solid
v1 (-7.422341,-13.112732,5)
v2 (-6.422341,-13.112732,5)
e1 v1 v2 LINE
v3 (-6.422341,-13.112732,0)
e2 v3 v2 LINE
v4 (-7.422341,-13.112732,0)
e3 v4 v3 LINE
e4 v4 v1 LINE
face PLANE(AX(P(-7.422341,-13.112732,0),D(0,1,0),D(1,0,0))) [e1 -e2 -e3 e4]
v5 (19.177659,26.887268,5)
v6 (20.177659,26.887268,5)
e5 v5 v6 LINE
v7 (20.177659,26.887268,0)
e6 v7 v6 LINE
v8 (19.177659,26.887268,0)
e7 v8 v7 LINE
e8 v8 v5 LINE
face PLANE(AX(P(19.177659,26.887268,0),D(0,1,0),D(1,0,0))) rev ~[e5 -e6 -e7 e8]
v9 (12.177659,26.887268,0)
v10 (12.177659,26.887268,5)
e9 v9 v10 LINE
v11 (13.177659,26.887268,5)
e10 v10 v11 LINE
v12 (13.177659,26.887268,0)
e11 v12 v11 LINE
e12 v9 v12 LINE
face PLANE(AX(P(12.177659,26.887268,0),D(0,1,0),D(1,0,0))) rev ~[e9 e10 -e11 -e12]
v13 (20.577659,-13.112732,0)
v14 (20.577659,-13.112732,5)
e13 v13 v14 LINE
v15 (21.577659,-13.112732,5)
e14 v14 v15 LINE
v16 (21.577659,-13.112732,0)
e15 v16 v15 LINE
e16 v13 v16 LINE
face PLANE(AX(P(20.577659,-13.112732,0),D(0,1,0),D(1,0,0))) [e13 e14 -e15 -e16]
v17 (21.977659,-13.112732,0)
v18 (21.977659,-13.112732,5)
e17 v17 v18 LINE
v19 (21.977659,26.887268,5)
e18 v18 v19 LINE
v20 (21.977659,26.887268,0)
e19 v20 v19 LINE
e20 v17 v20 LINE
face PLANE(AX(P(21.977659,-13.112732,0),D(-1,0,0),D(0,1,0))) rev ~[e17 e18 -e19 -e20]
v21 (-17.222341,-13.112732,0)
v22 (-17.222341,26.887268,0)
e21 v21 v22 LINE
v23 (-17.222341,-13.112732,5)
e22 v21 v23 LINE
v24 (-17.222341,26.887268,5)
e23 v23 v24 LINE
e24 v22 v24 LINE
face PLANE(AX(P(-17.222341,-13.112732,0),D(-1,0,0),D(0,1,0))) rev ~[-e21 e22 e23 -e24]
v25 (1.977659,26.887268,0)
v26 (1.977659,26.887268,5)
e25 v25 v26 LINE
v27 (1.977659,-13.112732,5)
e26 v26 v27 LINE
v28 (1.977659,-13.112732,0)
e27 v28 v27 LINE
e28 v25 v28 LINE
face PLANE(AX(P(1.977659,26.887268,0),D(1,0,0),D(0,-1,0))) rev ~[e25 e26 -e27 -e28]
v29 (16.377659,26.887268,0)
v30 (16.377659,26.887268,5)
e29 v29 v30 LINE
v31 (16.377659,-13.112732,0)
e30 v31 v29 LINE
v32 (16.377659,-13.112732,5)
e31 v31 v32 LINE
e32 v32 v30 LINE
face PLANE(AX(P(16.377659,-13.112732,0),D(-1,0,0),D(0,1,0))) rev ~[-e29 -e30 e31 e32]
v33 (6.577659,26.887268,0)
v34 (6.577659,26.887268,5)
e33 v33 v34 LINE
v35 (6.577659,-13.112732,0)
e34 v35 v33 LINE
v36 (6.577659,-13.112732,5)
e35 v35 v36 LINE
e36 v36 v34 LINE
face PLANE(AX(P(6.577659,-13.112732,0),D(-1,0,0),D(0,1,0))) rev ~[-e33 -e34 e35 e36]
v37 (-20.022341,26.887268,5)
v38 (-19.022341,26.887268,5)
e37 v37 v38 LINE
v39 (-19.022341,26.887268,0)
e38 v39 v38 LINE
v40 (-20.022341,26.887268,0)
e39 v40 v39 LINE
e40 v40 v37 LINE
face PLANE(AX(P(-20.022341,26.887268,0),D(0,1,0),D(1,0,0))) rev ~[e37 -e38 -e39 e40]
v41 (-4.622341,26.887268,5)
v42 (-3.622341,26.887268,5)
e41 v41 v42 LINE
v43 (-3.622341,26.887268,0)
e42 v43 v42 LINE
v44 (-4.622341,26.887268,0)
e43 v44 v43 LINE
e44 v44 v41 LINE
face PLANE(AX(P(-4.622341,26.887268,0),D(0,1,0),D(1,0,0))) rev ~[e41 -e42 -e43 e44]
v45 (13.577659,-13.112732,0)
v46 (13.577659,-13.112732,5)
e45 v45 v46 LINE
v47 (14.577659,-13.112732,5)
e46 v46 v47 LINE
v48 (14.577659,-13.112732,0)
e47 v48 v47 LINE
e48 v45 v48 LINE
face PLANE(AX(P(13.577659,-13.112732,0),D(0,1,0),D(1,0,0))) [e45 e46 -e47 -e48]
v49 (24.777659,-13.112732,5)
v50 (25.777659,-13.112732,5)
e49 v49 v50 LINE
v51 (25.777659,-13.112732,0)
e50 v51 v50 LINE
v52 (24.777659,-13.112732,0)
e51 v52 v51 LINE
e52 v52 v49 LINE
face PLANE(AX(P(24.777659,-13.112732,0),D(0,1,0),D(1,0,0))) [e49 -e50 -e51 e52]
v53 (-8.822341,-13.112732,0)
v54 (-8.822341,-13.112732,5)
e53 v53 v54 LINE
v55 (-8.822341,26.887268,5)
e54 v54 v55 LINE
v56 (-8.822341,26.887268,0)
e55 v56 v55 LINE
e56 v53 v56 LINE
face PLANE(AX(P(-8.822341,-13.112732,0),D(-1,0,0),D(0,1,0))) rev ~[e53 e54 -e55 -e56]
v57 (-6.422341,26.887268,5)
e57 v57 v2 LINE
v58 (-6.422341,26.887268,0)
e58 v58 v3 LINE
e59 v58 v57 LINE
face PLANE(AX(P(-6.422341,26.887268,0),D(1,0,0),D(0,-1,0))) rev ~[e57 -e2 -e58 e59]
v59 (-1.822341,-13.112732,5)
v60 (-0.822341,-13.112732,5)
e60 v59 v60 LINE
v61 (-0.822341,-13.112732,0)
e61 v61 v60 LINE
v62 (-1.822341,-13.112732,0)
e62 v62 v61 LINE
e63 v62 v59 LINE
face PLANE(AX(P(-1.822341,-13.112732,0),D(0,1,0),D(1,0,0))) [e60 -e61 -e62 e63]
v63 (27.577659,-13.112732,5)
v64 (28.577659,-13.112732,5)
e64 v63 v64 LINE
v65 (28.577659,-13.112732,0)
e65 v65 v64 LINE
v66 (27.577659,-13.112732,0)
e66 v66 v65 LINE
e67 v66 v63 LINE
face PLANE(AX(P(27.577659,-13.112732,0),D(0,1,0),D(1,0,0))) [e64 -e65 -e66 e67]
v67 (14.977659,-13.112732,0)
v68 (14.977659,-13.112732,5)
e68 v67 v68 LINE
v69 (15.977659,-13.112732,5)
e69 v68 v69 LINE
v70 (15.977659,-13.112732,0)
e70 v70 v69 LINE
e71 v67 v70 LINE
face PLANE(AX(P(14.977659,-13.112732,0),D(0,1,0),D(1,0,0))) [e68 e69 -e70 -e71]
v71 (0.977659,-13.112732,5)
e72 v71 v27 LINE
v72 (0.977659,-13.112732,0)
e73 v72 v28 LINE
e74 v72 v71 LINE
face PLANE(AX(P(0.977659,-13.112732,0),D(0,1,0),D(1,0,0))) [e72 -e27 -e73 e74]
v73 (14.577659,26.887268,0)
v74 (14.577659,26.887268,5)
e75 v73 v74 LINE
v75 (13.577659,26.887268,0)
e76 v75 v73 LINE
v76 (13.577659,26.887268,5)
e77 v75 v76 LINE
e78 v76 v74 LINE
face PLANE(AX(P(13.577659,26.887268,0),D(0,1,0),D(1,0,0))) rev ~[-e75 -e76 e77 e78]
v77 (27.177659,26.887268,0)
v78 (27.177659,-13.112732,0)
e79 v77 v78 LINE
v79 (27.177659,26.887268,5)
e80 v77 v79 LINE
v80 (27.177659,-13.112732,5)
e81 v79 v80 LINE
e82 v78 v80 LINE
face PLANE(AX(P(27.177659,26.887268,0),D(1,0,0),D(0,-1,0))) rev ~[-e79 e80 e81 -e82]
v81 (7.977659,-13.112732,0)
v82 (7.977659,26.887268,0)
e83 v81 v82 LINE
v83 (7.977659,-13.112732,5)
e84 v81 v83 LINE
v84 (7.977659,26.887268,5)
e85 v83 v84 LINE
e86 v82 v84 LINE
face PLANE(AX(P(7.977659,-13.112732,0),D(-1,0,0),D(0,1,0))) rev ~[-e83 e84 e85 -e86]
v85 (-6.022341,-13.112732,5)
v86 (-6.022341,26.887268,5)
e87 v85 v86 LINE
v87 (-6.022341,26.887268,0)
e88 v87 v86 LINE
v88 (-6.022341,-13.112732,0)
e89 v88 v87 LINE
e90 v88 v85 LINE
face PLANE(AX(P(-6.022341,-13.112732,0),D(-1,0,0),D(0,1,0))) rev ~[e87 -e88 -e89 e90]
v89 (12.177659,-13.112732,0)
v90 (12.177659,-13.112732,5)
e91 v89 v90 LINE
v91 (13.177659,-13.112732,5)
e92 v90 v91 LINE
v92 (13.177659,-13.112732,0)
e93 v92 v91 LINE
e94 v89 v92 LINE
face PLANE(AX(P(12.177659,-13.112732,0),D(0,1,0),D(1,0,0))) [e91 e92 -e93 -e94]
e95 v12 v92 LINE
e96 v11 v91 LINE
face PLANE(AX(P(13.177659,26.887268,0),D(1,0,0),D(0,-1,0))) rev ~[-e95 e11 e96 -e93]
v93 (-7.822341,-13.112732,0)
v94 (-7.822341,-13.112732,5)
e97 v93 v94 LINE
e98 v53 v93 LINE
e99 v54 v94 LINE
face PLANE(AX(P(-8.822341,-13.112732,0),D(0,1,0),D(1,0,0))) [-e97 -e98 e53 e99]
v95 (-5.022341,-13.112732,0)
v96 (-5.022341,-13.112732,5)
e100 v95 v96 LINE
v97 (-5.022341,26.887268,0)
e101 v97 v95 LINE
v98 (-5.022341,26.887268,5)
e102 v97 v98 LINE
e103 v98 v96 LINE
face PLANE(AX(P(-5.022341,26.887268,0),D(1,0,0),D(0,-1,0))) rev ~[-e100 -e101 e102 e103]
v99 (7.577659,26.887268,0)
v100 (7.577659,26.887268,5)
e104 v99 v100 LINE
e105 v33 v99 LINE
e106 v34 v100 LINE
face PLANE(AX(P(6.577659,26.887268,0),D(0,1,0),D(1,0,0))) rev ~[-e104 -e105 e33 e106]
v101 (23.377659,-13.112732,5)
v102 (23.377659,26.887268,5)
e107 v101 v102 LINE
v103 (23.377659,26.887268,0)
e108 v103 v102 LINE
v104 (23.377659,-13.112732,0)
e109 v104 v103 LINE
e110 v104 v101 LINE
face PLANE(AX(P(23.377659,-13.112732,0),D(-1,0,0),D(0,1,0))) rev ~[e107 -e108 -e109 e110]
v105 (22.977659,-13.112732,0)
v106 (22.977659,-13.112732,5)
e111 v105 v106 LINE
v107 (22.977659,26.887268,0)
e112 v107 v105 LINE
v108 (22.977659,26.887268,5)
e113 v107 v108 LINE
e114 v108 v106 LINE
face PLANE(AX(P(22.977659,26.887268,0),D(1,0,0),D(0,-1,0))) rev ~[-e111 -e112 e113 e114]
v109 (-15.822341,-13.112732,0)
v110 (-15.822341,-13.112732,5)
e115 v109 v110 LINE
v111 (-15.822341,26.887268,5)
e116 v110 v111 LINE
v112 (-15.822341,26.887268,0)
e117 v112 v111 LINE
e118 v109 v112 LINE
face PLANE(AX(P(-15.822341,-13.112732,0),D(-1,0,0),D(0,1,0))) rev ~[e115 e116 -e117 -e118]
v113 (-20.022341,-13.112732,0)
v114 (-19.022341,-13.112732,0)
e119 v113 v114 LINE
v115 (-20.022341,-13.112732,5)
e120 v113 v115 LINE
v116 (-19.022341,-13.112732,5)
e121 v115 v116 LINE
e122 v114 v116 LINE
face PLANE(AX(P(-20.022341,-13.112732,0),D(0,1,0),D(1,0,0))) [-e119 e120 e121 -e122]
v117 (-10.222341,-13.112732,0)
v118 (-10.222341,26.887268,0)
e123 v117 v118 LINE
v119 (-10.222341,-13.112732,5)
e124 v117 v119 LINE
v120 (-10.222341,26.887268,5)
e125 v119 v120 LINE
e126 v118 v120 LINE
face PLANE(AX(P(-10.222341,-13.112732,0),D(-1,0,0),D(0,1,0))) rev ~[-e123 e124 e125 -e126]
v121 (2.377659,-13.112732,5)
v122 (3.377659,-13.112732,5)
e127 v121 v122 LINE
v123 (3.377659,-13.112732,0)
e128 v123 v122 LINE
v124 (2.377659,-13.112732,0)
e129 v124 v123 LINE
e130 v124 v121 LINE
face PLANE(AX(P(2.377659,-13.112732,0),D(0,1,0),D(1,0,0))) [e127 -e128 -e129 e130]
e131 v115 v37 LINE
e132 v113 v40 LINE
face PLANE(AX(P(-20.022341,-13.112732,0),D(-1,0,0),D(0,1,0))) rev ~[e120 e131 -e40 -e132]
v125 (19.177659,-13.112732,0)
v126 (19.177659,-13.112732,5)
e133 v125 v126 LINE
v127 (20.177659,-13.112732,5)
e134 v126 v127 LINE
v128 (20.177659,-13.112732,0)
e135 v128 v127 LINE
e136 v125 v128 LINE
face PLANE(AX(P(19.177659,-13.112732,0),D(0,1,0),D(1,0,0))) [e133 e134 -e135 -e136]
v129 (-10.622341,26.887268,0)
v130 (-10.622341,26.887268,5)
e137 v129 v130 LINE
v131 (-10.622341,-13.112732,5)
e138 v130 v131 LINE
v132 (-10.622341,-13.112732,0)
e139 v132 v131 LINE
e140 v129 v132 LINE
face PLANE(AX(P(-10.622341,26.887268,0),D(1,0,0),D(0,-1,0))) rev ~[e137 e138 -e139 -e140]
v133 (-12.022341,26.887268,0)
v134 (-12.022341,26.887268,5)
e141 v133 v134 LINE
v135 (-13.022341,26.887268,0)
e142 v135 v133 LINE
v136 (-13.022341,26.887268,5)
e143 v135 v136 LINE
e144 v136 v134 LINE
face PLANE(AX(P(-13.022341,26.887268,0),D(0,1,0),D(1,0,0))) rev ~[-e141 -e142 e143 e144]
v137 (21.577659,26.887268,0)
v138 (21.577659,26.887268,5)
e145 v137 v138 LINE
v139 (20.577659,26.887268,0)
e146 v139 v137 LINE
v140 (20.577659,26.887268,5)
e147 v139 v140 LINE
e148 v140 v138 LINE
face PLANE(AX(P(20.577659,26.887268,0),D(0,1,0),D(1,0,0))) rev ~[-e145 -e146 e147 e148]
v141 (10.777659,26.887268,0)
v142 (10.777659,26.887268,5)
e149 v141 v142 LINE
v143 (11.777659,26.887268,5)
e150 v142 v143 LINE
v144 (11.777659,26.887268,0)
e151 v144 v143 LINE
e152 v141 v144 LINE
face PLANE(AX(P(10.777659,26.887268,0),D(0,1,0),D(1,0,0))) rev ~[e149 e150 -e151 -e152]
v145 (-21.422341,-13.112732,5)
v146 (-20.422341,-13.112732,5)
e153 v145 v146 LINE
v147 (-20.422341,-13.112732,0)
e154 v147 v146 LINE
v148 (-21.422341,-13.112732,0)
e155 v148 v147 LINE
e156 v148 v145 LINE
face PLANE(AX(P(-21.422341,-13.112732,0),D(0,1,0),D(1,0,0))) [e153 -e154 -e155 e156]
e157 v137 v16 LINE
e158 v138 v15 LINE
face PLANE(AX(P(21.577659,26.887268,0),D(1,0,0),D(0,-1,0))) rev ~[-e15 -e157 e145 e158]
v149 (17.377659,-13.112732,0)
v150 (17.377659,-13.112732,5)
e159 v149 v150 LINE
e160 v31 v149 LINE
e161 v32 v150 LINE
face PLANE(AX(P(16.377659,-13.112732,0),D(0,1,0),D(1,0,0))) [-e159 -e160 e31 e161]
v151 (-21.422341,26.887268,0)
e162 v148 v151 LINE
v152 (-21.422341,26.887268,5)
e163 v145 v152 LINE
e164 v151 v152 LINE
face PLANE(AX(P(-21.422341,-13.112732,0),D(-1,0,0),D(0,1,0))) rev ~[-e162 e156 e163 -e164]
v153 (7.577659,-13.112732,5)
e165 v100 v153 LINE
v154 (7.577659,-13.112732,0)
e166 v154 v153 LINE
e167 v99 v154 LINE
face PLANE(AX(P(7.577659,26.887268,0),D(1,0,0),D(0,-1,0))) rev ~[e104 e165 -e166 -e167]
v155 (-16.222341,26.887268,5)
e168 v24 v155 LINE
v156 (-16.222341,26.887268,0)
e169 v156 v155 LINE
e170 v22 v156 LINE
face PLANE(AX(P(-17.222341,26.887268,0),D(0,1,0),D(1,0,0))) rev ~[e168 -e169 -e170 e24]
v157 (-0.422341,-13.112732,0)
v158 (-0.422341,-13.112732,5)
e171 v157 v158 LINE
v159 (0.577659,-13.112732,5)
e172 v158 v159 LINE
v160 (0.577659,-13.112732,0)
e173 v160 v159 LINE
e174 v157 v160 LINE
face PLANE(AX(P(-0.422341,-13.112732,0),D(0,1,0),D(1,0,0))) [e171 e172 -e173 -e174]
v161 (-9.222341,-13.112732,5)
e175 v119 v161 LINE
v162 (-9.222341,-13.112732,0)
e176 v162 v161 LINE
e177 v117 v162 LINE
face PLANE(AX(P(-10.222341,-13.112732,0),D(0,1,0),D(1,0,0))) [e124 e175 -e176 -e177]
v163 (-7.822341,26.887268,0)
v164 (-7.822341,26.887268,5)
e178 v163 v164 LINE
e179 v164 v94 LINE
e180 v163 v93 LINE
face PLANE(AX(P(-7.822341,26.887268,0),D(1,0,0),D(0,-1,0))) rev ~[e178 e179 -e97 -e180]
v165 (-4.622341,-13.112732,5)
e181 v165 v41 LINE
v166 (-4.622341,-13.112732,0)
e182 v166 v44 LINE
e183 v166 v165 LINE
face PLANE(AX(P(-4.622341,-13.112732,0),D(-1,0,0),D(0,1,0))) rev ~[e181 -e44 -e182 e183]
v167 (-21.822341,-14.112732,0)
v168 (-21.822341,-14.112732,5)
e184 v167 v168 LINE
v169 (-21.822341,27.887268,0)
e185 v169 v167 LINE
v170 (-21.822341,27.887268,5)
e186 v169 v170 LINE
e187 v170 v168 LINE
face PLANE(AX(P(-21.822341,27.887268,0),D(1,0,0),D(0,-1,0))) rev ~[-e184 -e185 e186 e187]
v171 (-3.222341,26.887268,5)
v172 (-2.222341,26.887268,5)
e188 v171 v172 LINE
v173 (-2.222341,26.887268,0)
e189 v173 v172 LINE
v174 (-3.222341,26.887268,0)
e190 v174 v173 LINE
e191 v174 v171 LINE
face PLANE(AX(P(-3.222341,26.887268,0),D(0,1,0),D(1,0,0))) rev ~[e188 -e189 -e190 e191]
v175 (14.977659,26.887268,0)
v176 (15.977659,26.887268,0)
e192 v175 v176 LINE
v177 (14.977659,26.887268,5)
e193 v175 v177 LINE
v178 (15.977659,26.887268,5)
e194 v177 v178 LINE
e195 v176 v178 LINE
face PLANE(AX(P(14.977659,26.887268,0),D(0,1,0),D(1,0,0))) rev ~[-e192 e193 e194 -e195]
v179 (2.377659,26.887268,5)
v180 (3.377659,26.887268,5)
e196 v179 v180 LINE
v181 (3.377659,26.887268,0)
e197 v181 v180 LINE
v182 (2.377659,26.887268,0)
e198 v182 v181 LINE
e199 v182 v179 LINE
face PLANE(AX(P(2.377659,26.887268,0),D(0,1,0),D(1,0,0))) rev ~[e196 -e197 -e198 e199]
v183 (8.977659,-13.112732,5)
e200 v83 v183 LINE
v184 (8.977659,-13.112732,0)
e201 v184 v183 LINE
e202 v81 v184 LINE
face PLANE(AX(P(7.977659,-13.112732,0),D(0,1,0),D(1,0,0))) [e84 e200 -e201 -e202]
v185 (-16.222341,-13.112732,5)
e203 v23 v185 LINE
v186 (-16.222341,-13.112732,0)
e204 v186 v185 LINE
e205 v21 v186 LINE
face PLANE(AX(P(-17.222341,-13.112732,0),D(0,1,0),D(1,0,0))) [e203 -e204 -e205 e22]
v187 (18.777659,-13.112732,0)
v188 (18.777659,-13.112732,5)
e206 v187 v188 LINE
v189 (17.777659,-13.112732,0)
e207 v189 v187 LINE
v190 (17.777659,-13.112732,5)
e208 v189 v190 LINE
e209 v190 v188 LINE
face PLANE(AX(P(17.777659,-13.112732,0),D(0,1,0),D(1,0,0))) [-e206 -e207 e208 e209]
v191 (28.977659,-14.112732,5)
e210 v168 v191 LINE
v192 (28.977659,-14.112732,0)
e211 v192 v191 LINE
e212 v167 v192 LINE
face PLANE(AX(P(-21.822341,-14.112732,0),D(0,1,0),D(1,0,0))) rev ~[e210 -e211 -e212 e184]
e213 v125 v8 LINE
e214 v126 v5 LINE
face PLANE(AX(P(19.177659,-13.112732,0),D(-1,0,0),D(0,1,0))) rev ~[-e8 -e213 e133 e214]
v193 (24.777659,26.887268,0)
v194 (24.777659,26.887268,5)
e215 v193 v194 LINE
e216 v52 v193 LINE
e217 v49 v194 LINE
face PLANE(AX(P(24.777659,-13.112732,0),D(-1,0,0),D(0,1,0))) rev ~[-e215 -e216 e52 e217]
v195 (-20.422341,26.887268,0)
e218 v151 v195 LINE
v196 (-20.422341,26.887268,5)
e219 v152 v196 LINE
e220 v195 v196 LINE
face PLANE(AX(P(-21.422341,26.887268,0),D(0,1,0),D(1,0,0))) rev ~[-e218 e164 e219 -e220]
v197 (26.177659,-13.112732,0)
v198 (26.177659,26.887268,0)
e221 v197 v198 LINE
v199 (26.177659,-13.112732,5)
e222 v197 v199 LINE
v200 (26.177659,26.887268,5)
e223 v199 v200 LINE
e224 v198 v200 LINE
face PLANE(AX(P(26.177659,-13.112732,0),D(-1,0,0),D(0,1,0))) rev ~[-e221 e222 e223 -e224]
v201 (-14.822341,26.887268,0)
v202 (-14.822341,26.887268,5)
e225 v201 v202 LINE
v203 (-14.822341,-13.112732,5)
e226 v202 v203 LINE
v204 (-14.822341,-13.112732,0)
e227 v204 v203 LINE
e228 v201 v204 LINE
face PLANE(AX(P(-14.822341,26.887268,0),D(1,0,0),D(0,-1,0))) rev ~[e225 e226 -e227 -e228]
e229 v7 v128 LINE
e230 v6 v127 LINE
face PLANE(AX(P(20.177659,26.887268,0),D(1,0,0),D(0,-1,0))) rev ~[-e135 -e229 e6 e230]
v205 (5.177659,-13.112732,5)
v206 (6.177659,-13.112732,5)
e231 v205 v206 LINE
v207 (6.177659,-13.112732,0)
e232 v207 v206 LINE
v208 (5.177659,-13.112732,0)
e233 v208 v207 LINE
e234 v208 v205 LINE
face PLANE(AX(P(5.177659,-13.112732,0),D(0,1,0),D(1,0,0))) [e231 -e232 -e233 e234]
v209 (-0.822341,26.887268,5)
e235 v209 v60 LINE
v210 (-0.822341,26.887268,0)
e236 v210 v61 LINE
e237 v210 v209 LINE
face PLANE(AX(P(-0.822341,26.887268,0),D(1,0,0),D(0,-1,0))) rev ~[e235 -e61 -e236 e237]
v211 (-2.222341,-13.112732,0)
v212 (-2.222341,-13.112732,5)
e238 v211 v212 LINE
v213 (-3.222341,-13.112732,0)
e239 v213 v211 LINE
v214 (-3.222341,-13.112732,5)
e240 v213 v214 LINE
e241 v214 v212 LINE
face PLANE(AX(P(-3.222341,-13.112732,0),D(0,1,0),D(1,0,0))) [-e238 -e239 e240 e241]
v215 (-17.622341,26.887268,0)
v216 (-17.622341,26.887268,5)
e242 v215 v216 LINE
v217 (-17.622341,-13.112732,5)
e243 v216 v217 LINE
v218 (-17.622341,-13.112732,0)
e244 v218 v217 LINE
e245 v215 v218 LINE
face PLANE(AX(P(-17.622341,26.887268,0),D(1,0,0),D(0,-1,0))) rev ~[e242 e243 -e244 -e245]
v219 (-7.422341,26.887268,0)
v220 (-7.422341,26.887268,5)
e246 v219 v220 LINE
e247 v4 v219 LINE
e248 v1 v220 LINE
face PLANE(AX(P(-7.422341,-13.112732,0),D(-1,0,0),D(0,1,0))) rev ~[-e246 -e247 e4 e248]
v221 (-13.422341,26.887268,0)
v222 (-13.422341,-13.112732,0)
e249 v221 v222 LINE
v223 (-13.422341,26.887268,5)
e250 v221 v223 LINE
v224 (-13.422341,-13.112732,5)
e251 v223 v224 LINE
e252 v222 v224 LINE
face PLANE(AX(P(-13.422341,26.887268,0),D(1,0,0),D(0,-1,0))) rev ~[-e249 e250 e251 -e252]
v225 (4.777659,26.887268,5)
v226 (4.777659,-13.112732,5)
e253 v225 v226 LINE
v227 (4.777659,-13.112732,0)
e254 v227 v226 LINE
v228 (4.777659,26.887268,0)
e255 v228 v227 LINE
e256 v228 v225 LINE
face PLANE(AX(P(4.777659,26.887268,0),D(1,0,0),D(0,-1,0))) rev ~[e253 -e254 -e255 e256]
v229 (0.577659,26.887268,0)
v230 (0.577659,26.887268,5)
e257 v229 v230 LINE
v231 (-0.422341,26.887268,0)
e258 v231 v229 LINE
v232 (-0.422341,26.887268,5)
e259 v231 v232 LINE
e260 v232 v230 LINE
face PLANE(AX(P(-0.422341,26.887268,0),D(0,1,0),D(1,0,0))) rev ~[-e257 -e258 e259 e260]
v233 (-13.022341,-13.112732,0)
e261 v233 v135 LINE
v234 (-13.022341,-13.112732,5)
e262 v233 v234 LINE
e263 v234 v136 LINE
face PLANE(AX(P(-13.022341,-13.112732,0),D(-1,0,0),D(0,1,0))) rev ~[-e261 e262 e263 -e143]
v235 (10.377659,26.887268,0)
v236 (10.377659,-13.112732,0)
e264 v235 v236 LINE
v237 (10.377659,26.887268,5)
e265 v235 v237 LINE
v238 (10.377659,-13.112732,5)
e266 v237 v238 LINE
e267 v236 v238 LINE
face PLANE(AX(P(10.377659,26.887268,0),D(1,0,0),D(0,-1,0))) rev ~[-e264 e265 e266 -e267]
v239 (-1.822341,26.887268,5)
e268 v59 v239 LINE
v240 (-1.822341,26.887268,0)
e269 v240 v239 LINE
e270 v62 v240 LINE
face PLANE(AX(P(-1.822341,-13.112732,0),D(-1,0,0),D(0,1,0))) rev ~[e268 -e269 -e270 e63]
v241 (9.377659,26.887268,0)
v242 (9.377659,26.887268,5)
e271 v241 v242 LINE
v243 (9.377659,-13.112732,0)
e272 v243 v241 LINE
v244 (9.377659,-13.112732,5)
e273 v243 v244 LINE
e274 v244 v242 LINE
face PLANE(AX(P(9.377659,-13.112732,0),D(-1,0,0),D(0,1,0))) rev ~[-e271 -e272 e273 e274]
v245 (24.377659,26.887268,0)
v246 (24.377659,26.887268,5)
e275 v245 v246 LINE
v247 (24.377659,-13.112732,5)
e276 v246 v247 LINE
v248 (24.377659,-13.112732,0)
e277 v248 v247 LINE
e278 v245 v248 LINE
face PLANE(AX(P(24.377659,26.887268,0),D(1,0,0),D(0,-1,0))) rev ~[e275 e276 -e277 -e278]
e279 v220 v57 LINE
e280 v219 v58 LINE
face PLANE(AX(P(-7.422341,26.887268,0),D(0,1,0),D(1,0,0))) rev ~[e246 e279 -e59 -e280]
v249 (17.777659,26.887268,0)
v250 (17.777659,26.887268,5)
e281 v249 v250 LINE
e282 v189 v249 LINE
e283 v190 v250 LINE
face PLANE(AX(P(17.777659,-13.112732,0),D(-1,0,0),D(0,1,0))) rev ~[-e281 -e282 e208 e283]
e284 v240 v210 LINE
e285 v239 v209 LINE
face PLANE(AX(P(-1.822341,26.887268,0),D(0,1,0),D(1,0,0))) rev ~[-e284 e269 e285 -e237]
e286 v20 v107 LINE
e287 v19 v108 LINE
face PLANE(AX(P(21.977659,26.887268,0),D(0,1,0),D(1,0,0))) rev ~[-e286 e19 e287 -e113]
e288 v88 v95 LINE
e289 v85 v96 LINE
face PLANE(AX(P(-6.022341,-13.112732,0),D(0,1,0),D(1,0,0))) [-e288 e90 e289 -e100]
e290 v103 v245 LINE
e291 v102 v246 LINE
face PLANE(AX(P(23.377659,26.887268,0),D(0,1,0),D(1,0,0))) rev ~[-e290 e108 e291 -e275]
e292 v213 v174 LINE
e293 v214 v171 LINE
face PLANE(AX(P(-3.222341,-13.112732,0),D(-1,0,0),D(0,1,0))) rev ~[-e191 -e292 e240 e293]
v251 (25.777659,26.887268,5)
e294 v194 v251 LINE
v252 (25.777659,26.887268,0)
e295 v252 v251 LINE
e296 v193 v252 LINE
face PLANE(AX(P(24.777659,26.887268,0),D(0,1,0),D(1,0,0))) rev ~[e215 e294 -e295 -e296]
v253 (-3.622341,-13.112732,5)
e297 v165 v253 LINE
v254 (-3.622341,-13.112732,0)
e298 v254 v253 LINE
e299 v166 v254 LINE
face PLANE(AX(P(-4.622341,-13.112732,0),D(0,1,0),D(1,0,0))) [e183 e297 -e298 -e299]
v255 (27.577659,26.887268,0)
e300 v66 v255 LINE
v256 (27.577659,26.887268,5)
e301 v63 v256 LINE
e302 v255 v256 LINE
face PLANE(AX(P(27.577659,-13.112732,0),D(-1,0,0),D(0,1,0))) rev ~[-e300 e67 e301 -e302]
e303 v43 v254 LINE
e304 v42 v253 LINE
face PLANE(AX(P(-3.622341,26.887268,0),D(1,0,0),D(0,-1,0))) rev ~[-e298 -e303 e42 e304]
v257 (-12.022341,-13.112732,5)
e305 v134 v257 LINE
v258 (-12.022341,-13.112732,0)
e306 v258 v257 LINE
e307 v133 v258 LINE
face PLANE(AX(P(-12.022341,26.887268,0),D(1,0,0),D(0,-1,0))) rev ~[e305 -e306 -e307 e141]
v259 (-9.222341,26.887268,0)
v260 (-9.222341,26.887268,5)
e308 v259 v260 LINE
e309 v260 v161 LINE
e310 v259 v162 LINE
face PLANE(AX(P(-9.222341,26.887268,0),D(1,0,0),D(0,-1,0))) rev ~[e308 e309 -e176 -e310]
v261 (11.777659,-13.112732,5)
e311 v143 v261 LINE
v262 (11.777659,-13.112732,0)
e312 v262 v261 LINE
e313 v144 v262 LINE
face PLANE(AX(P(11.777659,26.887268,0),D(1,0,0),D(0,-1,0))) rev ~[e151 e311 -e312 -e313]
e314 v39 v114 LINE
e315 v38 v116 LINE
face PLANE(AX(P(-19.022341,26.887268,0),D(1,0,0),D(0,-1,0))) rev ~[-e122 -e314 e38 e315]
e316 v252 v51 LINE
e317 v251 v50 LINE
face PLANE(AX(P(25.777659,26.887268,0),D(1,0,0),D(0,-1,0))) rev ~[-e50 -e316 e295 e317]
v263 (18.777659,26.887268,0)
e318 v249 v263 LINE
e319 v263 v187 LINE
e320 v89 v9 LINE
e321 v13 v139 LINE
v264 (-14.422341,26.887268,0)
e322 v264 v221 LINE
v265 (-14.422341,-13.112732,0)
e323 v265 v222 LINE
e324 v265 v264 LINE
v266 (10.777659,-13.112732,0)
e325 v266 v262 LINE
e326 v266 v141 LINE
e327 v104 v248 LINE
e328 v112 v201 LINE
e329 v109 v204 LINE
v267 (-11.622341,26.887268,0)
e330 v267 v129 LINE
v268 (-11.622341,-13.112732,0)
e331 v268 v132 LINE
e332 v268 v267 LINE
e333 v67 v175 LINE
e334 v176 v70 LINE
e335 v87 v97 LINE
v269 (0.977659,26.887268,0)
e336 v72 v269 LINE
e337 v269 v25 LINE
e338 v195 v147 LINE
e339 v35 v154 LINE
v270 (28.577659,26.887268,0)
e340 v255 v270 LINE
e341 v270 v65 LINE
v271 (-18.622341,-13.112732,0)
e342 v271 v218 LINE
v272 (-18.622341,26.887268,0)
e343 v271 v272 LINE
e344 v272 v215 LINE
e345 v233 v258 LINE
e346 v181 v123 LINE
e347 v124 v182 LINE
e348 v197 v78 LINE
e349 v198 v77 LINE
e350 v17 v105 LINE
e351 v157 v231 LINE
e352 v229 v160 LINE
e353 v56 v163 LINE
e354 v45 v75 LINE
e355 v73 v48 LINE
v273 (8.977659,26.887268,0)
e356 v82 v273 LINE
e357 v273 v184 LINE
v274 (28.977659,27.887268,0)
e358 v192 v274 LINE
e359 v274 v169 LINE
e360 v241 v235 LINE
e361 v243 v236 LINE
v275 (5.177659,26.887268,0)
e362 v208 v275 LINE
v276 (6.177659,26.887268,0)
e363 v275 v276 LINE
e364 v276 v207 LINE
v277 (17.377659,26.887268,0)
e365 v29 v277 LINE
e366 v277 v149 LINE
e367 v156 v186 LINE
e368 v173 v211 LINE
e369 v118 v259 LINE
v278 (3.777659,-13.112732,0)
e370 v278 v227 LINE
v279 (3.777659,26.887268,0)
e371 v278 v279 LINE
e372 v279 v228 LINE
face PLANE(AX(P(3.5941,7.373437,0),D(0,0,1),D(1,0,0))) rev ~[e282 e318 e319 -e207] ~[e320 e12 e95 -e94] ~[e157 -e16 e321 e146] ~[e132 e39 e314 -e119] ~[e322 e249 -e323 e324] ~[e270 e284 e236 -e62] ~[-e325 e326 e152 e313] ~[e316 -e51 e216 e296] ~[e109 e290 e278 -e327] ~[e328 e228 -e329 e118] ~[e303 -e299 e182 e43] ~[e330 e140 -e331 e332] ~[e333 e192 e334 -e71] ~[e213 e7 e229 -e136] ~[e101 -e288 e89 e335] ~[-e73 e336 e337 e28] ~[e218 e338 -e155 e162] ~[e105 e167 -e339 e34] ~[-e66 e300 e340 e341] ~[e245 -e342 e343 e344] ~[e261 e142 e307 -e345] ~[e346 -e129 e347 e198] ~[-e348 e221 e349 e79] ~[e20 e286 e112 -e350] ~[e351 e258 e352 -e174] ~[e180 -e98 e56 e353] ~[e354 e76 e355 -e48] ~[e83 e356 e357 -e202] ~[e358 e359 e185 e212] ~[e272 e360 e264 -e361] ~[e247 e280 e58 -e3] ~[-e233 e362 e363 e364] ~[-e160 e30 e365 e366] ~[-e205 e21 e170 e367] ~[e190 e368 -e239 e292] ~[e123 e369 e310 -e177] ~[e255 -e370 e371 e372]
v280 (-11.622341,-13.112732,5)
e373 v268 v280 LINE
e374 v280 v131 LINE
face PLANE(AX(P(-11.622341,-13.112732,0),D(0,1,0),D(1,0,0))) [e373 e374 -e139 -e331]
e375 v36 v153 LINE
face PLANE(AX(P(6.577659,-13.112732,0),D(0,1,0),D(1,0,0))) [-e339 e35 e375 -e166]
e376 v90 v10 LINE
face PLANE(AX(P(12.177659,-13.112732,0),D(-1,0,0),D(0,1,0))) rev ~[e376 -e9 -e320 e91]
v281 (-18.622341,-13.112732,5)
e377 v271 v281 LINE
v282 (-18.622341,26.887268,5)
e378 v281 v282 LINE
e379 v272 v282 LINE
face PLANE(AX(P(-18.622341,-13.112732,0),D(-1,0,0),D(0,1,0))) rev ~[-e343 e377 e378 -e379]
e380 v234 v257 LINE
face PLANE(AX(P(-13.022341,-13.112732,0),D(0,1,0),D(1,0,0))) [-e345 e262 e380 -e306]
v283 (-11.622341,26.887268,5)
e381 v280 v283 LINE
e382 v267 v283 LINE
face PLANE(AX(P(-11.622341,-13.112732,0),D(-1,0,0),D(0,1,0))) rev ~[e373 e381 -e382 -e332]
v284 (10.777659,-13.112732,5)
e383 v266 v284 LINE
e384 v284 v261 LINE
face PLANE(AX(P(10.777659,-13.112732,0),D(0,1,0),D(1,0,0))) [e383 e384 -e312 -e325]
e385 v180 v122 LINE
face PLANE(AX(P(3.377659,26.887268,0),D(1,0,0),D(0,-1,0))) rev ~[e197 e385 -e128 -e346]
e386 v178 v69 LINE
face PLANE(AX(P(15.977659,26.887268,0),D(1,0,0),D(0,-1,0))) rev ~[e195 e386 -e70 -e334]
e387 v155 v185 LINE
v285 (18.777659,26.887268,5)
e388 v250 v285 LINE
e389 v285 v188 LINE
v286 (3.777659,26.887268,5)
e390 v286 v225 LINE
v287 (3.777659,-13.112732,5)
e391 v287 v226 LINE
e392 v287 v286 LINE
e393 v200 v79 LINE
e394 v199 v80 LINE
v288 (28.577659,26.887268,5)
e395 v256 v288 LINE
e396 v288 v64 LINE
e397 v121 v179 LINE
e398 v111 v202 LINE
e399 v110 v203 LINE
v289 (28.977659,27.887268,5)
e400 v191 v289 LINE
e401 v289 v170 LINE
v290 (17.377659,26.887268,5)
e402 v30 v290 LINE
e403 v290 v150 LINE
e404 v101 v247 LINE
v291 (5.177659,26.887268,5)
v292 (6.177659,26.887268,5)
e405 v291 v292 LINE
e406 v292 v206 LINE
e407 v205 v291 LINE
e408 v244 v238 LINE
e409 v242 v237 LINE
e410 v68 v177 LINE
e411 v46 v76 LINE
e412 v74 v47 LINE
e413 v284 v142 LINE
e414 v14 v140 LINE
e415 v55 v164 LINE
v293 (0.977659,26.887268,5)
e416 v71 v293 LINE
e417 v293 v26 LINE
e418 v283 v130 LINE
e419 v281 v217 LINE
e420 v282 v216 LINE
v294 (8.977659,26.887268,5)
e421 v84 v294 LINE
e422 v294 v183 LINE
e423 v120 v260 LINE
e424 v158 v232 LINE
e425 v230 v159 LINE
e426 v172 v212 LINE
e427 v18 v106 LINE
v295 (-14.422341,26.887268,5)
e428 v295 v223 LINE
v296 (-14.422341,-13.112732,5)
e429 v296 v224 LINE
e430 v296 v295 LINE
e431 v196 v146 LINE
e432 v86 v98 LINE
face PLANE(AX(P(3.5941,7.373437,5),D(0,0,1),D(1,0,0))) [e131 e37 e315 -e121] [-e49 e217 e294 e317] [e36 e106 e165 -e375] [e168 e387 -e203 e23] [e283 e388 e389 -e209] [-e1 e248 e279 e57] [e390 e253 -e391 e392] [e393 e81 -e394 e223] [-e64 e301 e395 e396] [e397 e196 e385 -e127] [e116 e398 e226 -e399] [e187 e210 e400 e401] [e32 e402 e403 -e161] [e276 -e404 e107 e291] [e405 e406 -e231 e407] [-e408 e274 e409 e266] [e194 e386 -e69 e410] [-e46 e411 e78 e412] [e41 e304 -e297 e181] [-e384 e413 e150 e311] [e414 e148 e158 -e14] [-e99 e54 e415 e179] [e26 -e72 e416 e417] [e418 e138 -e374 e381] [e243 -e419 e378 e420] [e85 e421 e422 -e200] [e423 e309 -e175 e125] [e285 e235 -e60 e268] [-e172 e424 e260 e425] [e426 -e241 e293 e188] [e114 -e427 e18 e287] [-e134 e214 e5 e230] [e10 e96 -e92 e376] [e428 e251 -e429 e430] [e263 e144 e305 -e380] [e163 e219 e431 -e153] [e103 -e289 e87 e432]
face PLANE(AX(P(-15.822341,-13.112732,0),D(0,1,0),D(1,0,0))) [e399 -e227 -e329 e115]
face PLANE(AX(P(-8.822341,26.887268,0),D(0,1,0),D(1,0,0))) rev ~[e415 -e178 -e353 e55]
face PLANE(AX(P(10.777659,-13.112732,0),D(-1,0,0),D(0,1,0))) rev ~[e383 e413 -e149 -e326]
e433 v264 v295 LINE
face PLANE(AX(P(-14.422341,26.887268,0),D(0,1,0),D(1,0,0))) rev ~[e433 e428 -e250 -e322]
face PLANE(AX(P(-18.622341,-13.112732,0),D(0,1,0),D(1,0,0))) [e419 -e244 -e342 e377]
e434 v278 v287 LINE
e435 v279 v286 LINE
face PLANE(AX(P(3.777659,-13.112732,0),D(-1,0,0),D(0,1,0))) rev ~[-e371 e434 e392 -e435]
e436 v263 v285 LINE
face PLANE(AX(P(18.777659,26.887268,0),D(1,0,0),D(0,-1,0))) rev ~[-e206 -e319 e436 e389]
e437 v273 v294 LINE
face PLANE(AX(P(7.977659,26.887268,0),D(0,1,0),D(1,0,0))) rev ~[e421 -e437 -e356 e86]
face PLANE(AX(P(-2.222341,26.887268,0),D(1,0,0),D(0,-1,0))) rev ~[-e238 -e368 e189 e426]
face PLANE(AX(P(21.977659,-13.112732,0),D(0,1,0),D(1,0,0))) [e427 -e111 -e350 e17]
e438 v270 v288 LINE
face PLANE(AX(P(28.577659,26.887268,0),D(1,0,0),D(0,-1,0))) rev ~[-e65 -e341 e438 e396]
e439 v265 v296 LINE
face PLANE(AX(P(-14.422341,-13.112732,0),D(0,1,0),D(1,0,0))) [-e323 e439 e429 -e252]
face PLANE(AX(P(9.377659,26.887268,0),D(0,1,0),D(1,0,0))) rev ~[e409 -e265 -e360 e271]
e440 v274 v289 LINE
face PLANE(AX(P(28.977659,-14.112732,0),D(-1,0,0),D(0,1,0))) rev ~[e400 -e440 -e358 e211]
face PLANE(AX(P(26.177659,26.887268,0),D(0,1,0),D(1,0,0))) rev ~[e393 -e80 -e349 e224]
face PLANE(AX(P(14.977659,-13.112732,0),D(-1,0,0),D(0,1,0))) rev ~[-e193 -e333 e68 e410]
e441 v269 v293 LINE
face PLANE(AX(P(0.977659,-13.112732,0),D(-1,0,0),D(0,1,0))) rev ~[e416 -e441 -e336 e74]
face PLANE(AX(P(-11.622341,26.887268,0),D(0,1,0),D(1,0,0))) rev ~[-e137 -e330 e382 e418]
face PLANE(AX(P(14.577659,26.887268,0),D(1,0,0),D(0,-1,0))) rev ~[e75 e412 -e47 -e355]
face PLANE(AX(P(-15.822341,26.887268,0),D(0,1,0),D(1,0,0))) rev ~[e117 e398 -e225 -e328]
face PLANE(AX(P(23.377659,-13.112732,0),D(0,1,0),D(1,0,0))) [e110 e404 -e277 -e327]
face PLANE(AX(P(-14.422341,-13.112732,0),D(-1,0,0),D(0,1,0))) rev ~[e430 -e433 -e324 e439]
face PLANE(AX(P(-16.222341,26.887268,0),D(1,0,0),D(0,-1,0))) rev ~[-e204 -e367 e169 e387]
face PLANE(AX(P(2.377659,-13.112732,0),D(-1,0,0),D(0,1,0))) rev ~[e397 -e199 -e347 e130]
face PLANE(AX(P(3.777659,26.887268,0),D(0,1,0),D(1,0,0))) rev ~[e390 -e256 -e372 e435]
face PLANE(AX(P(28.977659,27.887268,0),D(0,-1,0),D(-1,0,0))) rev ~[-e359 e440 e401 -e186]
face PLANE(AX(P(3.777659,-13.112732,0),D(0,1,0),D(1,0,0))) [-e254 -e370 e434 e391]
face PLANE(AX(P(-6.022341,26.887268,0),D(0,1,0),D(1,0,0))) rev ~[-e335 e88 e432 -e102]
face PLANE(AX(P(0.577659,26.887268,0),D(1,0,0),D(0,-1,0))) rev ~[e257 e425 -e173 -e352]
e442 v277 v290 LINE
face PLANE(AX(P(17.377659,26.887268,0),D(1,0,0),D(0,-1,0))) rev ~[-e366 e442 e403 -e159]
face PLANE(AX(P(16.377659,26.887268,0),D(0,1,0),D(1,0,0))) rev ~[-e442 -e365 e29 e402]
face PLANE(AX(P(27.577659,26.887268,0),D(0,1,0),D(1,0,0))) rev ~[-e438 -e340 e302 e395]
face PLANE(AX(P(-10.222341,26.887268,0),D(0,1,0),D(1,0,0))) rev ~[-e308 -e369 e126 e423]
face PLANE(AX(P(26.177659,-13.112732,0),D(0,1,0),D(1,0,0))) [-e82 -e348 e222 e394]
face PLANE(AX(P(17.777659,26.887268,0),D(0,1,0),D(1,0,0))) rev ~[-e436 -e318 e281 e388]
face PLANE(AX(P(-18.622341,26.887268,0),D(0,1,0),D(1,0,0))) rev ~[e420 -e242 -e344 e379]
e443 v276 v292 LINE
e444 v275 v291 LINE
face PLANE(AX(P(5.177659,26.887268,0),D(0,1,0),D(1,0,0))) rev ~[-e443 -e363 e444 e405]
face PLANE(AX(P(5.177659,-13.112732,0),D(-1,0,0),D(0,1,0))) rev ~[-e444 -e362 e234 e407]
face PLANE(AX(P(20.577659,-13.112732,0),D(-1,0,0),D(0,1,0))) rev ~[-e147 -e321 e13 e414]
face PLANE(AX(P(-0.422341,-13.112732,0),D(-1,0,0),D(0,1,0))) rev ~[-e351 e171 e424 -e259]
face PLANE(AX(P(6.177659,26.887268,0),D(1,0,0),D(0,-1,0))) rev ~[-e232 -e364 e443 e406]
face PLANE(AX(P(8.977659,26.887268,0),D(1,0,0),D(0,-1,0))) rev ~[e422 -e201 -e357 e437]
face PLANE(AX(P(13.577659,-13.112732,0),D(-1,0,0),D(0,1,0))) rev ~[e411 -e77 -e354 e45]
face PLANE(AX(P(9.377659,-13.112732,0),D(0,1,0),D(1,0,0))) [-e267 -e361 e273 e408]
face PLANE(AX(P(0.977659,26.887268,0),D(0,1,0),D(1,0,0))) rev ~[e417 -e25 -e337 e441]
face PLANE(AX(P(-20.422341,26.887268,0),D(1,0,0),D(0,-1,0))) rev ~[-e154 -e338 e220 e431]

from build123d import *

# Parameters (mm, degrees)
F0_W     = 0.4
F0_H     = 1
F0_W_2   = 1
F1_DEPTH = 5


with BuildPart() as f1:
    # F0 (on Top) → F1 (new body)
    with BuildSketch(Plane.XY):
        Polygon((28.977659, 27.887268), (-21.822341, 27.887268), (-21.822341, -13.112732), (-21.422341, -13.112732), (-21.422341, 26.887268), (-20.422341, 26.887268), (-20.422341, -13.112732), (-20.022341, -13.112732), (-20.022341, 26.887268), (-19.022341, 26.887268), (-19.022341, -13.112732), (-18.622341, -13.112732), (-18.622341, 26.887268), (-17.622341, 26.887268), (-17.622341, -13.112732), (-17.222341, -13.112732), (-17.222341, 26.887268), (-16.222341, 26.887268), (-16.222341, -13.112732), (-15.822341, -13.112732), (-15.822341, 26.887268), (-14.822341, 26.887268), (-14.822341, -13.112732), (-14.422341, -13.112732), (-14.422341, 26.887268), (-13.422341, 26.887268), (-13.422341, -13.112732), (-13.022341, -13.112732), (-13.022341, 26.887268), (-12.022341, 26.887268), (-12.022341, -13.112732), (-11.622341, -13.112732), (-11.622341, 26.887268), (-10.622341, 26.887268), (-10.622341, -13.112732), (-10.222341, -13.112732), (-10.222341, 26.887268), (-9.222341, 26.887268), (-9.222341, -13.112732), (-8.822341, -13.112732), (-8.822341, 26.887268), (-7.822341, 26.887268), (-7.822341, -13.112732), (-7.422341, -13.112732), (-7.422341, 26.887268), (-6.422341, 26.887268), (-6.422341, -13.112732), (-6.022341, -13.112732), (-6.022341, 26.887268), (-5.022341, 26.887268), (-5.022341, -13.112732), (-4.622341, -13.112732), (-4.622341, 26.887268), (-3.622341, 26.887268), (-3.622341, -13.112732), (-3.222341, -13.112732), (-3.222341, 26.887268), (-2.222341, 26.887268), (-2.222341, -13.112732), (-1.822341, -13.112732), (-1.822341, 26.887268), (-0.822341, 26.887268), (-0.822341, -13.112732), (-0.422341, -13.112732), (-0.422341, 26.887268), (0.577659, 26.887268), (0.577659, -13.112732), (0.977659, -13.112732), (0.977659, 26.887268), (1.977659, 26.887268), (1.977659, -13.112732), (2.377659, -13.112732), (2.377659, 26.887268), (3.377659, 26.887268), (3.377659, -13.112732), (3.777659, -13.112732), (3.777659, 26.887268), (4.777659, 26.887268), (4.777659, -13.112732), (5.177659, -13.112732), (5.177659, 26.887268), (6.177659, 26.887268), (6.177659, -13.112732), (6.577659, -13.112732), (6.577659, 26.887268), (7.577659, 26.887268), (7.577659, -13.112732), (7.977659, -13.112732), (7.977659, 26.887268), (8.977659, 26.887268), (8.977659, -13.112732), (9.377659, -13.112732), (9.377659, 26.887268), (10.377659, 26.887268), (10.377659, -13.112732), (10.777659, -13.112732), (10.777659, 26.887268), (11.777659, 26.887268), (11.777659, -13.112732), (12.177659, -13.112732), (12.177659, 26.887268), (13.177659, 26.887268), (13.177659, -13.112732), (13.577659, -13.112732), (13.577659, 26.887268), (14.577659, 26.887268), (14.577659, -13.112732), (14.977659, -13.112732), (14.977659, 26.887268), (15.977659, 26.887268), (15.977659, -13.112732), (16.377659, -13.112732), (16.377659, 26.887268), (17.377659, 26.887268), (17.377659, -13.112732), (17.777659, -13.112732), (17.777659, 26.887268), (18.777659, 26.887268), (18.777659, -13.112732), (19.177659, -13.112732), (19.177659, 26.887268), (20.177659, 26.887268), (20.177659, -13.112732), (20.577659, -13.112732), (20.577659, 26.887268), (21.577659, 26.887268), (21.577659, -13.112732), (21.977659, -13.112732), (21.977659, 26.887268), (22.977659, 26.887268), (22.977659, -13.112732), (23.377659, -13.112732), (23.377659, 26.887268), (24.377659, 26.887268), (24.377659, -13.112732), (24.777659, -13.112732), (24.777659, 26.887268), (25.777659, 26.887268), (25.777659, -13.112732), (26.177659, -13.112732), (26.177659, 26.887268), (27.177659, 26.887268), (27.177659, -13.112732), (27.577659, -13.112732), (27.577659, 26.887268), (28.577659, 26.887268), (28.577659, -13.112732), (28.577659, -14.112732), (28.977659, -14.112732), (28.977659, 26.887268), align=None)
        with Locations((-21.622341, -13.612732)):
            Rectangle(F0_W, F0_H)
        with Locations((-20.922341, -13.612732)):
            Rectangle(F0_W_2, F0_H)
        with Locations((-20.222341, -13.612732)):
            Rectangle(F0_W, F0_H)
        with Locations((-19.522341, -13.612732)):
            Rectangle(F0_W_2, F0_H)
        with Locations((28.077659, -13.612732)):
            Rectangle(F0_W_2, F0_H)
        with Locations((-18.822341, -13.612732)):
            Rectangle(F0_W, F0_H)
        with Locations((27.377659, -13.612732)):
            Rectangle(F0_W, F0_H)
        with Locations((-18.122341, -13.612732)):
            Rectangle(F0_W_2, F0_H)
        with Locations((26.677659, -13.612732)):
            Rectangle(F0_W_2, F0_H)
        with Locations((-17.422341, -13.612732)):
            Rectangle(F0_W, F0_H)
        with Locations((25.977659, -13.612732)):
            Rectangle(F0_W, F0_H)
        with Locations((-16.722341, -13.612732)):
            Rectangle(F0_W_2, F0_H)
        with Locations((25.277659, -13.612732)):
            Rectangle(F0_W_2, F0_H)
        with Locations((-16.022341, -13.612732)):
            Rectangle(F0_W, F0_H)
        with Locations((24.577659, -13.612732)):
            Rectangle(F0_W, F0_H)
        with Locations((-15.322341, -13.612732)):
            Rectangle(F0_W_2, F0_H)
        with Locations((23.877659, -13.612732)):
            Rectangle(F0_W_2, F0_H)
        with Locations((-14.622341, -13.612732)):
            Rectangle(F0_W, F0_H)
        with Locations((23.177659, -13.612732)):
            Rectangle(F0_W, F0_H)
        with Locations((-13.922341, -13.612732)):
            Rectangle(F0_W_2, F0_H)
        with Locations((22.477659, -13.612732)):
            Rectangle(F0_W_2, F0_H)
        with Locations((-13.222341, -13.612732)):
            Rectangle(F0_W, F0_H)
        with Locations((21.777659, -13.612732)):
            Rectangle(F0_W, F0_H)
        with Locations((-12.522341, -13.612732)):
            Rectangle(F0_W_2, F0_H)
        with Locations((21.077659, -13.612732)):
            Rectangle(F0_W_2, F0_H)
        with Locations((-11.822341, -13.612732)):
            Rectangle(F0_W, F0_H)
        with Locations((20.377659, -13.612732)):
            Rectangle(F0_W, F0_H)
        with Locations((-11.122341, -13.612732)):
            Rectangle(F0_W_2, F0_H)
        with Locations((19.677659, -13.612732)):
            Rectangle(F0_W_2, F0_H)
        with Locations((-10.422341, -13.612732)):
            Rectangle(F0_W, F0_H)
        with Locations((18.977659, -13.612732)):
            Rectangle(F0_W, F0_H)
        with Locations((-9.722341, -13.612732)):
            Rectangle(F0_W_2, F0_H)
        with Locations((18.277659, -13.612732)):
            Rectangle(F0_W_2, F0_H)
        with Locations((-9.022341, -13.612732)):
            Rectangle(F0_W, F0_H)
        with Locations((17.577659, -13.612732)):
            Rectangle(F0_W, F0_H)
        with Locations((-8.322341, -13.612732)):
            Rectangle(F0_W_2, F0_H)
        with Locations((16.877659, -13.612732)):
            Rectangle(F0_W_2, F0_H)
        with Locations((-7.622341, -13.612732)):
            Rectangle(F0_W, F0_H)
        with Locations((16.177659, -13.612732)):
            Rectangle(F0_W, F0_H)
        with Locations((-6.922341, -13.612732)):
            Rectangle(F0_W_2, F0_H)
        with Locations((15.477659, -13.612732)):
            Rectangle(F0_W_2, F0_H)
        with Locations((-6.222341, -13.612732)):
            Rectangle(F0_W, F0_H)
        with Locations((14.777659, -13.612732)):
            Rectangle(F0_W, F0_H)
        with Locations((-5.522341, -13.612732)):
            Rectangle(F0_W_2, F0_H)
        with Locations((14.077659, -13.612732)):
            Rectangle(F0_W_2, F0_H)
        with Locations((-4.822341, -13.612732)):
            Rectangle(F0_W, F0_H)
        with Locations((13.377659, -13.612732)):
            Rectangle(F0_W, F0_H)
        with Locations((-4.122341, -13.612732)):
            Rectangle(F0_W_2, F0_H)
        with Locations((12.677659, -13.612732)):
            Rectangle(F0_W_2, F0_H)
        with Locations((-3.422341, -13.612732)):
            Rectangle(F0_W, F0_H)
        with Locations((11.977659, -13.612732)):
            Rectangle(F0_W, F0_H)
        with Locations((-2.722341, -13.612732)):
            Rectangle(F0_W_2, F0_H)
        with Locations((11.277659, -13.612732)):
            Rectangle(F0_W_2, F0_H)
        with Locations((-2.022341, -13.612732)):
            Rectangle(F0_W, F0_H)
        with Locations((10.577659, -13.612732)):
            Rectangle(F0_W, F0_H)
        with Locations((-1.322341, -13.612732)):
            Rectangle(F0_W_2, F0_H)
        with Locations((9.877659, -13.612732)):
            Rectangle(F0_W_2, F0_H)
        with Locations((-0.622341, -13.612732)):
            Rectangle(F0_W, F0_H)
        with Locations((9.177659, -13.612732)):
            Rectangle(F0_W, F0_H)
        with Locations((0.077659, -13.612732)):
            Rectangle(F0_W_2, F0_H)
        with Locations((8.477659, -13.612732)):
            Rectangle(F0_W_2, F0_H)
        with Locations((0.777659, -13.612732)):
            Rectangle(F0_W, F0_H)
        with Locations((7.777659, -13.612732)):
            Rectangle(F0_W, F0_H)
        with Locations((1.477659, -13.612732)):
            Rectangle(F0_W_2, F0_H)
        with Locations((7.077659, -13.612732)):
            Rectangle(F0_W_2, F0_H)
        with Locations((2.177659, -13.612732)):
            Rectangle(F0_W, F0_H)
        with Locations((6.377659, -13.612732)):
            Rectangle(F0_W, F0_H)
        with Locations((2.877659, -13.612732)):
            Rectangle(F0_W_2, F0_H)
        with Locations((5.677659, -13.612732)):
            Rectangle(F0_W_2, F0_H)
        with Locations((3.577659, -13.612732)):
            Rectangle(F0_W, F0_H)
        with Locations((4.977659, -13.612732)):
            Rectangle(F0_W, F0_H)
        with Locations((4.277659, -13.612732)):
            Rectangle(F0_W_2, F0_H)
    extrude(amount=F1_DEPTH)


solid = f1.part
